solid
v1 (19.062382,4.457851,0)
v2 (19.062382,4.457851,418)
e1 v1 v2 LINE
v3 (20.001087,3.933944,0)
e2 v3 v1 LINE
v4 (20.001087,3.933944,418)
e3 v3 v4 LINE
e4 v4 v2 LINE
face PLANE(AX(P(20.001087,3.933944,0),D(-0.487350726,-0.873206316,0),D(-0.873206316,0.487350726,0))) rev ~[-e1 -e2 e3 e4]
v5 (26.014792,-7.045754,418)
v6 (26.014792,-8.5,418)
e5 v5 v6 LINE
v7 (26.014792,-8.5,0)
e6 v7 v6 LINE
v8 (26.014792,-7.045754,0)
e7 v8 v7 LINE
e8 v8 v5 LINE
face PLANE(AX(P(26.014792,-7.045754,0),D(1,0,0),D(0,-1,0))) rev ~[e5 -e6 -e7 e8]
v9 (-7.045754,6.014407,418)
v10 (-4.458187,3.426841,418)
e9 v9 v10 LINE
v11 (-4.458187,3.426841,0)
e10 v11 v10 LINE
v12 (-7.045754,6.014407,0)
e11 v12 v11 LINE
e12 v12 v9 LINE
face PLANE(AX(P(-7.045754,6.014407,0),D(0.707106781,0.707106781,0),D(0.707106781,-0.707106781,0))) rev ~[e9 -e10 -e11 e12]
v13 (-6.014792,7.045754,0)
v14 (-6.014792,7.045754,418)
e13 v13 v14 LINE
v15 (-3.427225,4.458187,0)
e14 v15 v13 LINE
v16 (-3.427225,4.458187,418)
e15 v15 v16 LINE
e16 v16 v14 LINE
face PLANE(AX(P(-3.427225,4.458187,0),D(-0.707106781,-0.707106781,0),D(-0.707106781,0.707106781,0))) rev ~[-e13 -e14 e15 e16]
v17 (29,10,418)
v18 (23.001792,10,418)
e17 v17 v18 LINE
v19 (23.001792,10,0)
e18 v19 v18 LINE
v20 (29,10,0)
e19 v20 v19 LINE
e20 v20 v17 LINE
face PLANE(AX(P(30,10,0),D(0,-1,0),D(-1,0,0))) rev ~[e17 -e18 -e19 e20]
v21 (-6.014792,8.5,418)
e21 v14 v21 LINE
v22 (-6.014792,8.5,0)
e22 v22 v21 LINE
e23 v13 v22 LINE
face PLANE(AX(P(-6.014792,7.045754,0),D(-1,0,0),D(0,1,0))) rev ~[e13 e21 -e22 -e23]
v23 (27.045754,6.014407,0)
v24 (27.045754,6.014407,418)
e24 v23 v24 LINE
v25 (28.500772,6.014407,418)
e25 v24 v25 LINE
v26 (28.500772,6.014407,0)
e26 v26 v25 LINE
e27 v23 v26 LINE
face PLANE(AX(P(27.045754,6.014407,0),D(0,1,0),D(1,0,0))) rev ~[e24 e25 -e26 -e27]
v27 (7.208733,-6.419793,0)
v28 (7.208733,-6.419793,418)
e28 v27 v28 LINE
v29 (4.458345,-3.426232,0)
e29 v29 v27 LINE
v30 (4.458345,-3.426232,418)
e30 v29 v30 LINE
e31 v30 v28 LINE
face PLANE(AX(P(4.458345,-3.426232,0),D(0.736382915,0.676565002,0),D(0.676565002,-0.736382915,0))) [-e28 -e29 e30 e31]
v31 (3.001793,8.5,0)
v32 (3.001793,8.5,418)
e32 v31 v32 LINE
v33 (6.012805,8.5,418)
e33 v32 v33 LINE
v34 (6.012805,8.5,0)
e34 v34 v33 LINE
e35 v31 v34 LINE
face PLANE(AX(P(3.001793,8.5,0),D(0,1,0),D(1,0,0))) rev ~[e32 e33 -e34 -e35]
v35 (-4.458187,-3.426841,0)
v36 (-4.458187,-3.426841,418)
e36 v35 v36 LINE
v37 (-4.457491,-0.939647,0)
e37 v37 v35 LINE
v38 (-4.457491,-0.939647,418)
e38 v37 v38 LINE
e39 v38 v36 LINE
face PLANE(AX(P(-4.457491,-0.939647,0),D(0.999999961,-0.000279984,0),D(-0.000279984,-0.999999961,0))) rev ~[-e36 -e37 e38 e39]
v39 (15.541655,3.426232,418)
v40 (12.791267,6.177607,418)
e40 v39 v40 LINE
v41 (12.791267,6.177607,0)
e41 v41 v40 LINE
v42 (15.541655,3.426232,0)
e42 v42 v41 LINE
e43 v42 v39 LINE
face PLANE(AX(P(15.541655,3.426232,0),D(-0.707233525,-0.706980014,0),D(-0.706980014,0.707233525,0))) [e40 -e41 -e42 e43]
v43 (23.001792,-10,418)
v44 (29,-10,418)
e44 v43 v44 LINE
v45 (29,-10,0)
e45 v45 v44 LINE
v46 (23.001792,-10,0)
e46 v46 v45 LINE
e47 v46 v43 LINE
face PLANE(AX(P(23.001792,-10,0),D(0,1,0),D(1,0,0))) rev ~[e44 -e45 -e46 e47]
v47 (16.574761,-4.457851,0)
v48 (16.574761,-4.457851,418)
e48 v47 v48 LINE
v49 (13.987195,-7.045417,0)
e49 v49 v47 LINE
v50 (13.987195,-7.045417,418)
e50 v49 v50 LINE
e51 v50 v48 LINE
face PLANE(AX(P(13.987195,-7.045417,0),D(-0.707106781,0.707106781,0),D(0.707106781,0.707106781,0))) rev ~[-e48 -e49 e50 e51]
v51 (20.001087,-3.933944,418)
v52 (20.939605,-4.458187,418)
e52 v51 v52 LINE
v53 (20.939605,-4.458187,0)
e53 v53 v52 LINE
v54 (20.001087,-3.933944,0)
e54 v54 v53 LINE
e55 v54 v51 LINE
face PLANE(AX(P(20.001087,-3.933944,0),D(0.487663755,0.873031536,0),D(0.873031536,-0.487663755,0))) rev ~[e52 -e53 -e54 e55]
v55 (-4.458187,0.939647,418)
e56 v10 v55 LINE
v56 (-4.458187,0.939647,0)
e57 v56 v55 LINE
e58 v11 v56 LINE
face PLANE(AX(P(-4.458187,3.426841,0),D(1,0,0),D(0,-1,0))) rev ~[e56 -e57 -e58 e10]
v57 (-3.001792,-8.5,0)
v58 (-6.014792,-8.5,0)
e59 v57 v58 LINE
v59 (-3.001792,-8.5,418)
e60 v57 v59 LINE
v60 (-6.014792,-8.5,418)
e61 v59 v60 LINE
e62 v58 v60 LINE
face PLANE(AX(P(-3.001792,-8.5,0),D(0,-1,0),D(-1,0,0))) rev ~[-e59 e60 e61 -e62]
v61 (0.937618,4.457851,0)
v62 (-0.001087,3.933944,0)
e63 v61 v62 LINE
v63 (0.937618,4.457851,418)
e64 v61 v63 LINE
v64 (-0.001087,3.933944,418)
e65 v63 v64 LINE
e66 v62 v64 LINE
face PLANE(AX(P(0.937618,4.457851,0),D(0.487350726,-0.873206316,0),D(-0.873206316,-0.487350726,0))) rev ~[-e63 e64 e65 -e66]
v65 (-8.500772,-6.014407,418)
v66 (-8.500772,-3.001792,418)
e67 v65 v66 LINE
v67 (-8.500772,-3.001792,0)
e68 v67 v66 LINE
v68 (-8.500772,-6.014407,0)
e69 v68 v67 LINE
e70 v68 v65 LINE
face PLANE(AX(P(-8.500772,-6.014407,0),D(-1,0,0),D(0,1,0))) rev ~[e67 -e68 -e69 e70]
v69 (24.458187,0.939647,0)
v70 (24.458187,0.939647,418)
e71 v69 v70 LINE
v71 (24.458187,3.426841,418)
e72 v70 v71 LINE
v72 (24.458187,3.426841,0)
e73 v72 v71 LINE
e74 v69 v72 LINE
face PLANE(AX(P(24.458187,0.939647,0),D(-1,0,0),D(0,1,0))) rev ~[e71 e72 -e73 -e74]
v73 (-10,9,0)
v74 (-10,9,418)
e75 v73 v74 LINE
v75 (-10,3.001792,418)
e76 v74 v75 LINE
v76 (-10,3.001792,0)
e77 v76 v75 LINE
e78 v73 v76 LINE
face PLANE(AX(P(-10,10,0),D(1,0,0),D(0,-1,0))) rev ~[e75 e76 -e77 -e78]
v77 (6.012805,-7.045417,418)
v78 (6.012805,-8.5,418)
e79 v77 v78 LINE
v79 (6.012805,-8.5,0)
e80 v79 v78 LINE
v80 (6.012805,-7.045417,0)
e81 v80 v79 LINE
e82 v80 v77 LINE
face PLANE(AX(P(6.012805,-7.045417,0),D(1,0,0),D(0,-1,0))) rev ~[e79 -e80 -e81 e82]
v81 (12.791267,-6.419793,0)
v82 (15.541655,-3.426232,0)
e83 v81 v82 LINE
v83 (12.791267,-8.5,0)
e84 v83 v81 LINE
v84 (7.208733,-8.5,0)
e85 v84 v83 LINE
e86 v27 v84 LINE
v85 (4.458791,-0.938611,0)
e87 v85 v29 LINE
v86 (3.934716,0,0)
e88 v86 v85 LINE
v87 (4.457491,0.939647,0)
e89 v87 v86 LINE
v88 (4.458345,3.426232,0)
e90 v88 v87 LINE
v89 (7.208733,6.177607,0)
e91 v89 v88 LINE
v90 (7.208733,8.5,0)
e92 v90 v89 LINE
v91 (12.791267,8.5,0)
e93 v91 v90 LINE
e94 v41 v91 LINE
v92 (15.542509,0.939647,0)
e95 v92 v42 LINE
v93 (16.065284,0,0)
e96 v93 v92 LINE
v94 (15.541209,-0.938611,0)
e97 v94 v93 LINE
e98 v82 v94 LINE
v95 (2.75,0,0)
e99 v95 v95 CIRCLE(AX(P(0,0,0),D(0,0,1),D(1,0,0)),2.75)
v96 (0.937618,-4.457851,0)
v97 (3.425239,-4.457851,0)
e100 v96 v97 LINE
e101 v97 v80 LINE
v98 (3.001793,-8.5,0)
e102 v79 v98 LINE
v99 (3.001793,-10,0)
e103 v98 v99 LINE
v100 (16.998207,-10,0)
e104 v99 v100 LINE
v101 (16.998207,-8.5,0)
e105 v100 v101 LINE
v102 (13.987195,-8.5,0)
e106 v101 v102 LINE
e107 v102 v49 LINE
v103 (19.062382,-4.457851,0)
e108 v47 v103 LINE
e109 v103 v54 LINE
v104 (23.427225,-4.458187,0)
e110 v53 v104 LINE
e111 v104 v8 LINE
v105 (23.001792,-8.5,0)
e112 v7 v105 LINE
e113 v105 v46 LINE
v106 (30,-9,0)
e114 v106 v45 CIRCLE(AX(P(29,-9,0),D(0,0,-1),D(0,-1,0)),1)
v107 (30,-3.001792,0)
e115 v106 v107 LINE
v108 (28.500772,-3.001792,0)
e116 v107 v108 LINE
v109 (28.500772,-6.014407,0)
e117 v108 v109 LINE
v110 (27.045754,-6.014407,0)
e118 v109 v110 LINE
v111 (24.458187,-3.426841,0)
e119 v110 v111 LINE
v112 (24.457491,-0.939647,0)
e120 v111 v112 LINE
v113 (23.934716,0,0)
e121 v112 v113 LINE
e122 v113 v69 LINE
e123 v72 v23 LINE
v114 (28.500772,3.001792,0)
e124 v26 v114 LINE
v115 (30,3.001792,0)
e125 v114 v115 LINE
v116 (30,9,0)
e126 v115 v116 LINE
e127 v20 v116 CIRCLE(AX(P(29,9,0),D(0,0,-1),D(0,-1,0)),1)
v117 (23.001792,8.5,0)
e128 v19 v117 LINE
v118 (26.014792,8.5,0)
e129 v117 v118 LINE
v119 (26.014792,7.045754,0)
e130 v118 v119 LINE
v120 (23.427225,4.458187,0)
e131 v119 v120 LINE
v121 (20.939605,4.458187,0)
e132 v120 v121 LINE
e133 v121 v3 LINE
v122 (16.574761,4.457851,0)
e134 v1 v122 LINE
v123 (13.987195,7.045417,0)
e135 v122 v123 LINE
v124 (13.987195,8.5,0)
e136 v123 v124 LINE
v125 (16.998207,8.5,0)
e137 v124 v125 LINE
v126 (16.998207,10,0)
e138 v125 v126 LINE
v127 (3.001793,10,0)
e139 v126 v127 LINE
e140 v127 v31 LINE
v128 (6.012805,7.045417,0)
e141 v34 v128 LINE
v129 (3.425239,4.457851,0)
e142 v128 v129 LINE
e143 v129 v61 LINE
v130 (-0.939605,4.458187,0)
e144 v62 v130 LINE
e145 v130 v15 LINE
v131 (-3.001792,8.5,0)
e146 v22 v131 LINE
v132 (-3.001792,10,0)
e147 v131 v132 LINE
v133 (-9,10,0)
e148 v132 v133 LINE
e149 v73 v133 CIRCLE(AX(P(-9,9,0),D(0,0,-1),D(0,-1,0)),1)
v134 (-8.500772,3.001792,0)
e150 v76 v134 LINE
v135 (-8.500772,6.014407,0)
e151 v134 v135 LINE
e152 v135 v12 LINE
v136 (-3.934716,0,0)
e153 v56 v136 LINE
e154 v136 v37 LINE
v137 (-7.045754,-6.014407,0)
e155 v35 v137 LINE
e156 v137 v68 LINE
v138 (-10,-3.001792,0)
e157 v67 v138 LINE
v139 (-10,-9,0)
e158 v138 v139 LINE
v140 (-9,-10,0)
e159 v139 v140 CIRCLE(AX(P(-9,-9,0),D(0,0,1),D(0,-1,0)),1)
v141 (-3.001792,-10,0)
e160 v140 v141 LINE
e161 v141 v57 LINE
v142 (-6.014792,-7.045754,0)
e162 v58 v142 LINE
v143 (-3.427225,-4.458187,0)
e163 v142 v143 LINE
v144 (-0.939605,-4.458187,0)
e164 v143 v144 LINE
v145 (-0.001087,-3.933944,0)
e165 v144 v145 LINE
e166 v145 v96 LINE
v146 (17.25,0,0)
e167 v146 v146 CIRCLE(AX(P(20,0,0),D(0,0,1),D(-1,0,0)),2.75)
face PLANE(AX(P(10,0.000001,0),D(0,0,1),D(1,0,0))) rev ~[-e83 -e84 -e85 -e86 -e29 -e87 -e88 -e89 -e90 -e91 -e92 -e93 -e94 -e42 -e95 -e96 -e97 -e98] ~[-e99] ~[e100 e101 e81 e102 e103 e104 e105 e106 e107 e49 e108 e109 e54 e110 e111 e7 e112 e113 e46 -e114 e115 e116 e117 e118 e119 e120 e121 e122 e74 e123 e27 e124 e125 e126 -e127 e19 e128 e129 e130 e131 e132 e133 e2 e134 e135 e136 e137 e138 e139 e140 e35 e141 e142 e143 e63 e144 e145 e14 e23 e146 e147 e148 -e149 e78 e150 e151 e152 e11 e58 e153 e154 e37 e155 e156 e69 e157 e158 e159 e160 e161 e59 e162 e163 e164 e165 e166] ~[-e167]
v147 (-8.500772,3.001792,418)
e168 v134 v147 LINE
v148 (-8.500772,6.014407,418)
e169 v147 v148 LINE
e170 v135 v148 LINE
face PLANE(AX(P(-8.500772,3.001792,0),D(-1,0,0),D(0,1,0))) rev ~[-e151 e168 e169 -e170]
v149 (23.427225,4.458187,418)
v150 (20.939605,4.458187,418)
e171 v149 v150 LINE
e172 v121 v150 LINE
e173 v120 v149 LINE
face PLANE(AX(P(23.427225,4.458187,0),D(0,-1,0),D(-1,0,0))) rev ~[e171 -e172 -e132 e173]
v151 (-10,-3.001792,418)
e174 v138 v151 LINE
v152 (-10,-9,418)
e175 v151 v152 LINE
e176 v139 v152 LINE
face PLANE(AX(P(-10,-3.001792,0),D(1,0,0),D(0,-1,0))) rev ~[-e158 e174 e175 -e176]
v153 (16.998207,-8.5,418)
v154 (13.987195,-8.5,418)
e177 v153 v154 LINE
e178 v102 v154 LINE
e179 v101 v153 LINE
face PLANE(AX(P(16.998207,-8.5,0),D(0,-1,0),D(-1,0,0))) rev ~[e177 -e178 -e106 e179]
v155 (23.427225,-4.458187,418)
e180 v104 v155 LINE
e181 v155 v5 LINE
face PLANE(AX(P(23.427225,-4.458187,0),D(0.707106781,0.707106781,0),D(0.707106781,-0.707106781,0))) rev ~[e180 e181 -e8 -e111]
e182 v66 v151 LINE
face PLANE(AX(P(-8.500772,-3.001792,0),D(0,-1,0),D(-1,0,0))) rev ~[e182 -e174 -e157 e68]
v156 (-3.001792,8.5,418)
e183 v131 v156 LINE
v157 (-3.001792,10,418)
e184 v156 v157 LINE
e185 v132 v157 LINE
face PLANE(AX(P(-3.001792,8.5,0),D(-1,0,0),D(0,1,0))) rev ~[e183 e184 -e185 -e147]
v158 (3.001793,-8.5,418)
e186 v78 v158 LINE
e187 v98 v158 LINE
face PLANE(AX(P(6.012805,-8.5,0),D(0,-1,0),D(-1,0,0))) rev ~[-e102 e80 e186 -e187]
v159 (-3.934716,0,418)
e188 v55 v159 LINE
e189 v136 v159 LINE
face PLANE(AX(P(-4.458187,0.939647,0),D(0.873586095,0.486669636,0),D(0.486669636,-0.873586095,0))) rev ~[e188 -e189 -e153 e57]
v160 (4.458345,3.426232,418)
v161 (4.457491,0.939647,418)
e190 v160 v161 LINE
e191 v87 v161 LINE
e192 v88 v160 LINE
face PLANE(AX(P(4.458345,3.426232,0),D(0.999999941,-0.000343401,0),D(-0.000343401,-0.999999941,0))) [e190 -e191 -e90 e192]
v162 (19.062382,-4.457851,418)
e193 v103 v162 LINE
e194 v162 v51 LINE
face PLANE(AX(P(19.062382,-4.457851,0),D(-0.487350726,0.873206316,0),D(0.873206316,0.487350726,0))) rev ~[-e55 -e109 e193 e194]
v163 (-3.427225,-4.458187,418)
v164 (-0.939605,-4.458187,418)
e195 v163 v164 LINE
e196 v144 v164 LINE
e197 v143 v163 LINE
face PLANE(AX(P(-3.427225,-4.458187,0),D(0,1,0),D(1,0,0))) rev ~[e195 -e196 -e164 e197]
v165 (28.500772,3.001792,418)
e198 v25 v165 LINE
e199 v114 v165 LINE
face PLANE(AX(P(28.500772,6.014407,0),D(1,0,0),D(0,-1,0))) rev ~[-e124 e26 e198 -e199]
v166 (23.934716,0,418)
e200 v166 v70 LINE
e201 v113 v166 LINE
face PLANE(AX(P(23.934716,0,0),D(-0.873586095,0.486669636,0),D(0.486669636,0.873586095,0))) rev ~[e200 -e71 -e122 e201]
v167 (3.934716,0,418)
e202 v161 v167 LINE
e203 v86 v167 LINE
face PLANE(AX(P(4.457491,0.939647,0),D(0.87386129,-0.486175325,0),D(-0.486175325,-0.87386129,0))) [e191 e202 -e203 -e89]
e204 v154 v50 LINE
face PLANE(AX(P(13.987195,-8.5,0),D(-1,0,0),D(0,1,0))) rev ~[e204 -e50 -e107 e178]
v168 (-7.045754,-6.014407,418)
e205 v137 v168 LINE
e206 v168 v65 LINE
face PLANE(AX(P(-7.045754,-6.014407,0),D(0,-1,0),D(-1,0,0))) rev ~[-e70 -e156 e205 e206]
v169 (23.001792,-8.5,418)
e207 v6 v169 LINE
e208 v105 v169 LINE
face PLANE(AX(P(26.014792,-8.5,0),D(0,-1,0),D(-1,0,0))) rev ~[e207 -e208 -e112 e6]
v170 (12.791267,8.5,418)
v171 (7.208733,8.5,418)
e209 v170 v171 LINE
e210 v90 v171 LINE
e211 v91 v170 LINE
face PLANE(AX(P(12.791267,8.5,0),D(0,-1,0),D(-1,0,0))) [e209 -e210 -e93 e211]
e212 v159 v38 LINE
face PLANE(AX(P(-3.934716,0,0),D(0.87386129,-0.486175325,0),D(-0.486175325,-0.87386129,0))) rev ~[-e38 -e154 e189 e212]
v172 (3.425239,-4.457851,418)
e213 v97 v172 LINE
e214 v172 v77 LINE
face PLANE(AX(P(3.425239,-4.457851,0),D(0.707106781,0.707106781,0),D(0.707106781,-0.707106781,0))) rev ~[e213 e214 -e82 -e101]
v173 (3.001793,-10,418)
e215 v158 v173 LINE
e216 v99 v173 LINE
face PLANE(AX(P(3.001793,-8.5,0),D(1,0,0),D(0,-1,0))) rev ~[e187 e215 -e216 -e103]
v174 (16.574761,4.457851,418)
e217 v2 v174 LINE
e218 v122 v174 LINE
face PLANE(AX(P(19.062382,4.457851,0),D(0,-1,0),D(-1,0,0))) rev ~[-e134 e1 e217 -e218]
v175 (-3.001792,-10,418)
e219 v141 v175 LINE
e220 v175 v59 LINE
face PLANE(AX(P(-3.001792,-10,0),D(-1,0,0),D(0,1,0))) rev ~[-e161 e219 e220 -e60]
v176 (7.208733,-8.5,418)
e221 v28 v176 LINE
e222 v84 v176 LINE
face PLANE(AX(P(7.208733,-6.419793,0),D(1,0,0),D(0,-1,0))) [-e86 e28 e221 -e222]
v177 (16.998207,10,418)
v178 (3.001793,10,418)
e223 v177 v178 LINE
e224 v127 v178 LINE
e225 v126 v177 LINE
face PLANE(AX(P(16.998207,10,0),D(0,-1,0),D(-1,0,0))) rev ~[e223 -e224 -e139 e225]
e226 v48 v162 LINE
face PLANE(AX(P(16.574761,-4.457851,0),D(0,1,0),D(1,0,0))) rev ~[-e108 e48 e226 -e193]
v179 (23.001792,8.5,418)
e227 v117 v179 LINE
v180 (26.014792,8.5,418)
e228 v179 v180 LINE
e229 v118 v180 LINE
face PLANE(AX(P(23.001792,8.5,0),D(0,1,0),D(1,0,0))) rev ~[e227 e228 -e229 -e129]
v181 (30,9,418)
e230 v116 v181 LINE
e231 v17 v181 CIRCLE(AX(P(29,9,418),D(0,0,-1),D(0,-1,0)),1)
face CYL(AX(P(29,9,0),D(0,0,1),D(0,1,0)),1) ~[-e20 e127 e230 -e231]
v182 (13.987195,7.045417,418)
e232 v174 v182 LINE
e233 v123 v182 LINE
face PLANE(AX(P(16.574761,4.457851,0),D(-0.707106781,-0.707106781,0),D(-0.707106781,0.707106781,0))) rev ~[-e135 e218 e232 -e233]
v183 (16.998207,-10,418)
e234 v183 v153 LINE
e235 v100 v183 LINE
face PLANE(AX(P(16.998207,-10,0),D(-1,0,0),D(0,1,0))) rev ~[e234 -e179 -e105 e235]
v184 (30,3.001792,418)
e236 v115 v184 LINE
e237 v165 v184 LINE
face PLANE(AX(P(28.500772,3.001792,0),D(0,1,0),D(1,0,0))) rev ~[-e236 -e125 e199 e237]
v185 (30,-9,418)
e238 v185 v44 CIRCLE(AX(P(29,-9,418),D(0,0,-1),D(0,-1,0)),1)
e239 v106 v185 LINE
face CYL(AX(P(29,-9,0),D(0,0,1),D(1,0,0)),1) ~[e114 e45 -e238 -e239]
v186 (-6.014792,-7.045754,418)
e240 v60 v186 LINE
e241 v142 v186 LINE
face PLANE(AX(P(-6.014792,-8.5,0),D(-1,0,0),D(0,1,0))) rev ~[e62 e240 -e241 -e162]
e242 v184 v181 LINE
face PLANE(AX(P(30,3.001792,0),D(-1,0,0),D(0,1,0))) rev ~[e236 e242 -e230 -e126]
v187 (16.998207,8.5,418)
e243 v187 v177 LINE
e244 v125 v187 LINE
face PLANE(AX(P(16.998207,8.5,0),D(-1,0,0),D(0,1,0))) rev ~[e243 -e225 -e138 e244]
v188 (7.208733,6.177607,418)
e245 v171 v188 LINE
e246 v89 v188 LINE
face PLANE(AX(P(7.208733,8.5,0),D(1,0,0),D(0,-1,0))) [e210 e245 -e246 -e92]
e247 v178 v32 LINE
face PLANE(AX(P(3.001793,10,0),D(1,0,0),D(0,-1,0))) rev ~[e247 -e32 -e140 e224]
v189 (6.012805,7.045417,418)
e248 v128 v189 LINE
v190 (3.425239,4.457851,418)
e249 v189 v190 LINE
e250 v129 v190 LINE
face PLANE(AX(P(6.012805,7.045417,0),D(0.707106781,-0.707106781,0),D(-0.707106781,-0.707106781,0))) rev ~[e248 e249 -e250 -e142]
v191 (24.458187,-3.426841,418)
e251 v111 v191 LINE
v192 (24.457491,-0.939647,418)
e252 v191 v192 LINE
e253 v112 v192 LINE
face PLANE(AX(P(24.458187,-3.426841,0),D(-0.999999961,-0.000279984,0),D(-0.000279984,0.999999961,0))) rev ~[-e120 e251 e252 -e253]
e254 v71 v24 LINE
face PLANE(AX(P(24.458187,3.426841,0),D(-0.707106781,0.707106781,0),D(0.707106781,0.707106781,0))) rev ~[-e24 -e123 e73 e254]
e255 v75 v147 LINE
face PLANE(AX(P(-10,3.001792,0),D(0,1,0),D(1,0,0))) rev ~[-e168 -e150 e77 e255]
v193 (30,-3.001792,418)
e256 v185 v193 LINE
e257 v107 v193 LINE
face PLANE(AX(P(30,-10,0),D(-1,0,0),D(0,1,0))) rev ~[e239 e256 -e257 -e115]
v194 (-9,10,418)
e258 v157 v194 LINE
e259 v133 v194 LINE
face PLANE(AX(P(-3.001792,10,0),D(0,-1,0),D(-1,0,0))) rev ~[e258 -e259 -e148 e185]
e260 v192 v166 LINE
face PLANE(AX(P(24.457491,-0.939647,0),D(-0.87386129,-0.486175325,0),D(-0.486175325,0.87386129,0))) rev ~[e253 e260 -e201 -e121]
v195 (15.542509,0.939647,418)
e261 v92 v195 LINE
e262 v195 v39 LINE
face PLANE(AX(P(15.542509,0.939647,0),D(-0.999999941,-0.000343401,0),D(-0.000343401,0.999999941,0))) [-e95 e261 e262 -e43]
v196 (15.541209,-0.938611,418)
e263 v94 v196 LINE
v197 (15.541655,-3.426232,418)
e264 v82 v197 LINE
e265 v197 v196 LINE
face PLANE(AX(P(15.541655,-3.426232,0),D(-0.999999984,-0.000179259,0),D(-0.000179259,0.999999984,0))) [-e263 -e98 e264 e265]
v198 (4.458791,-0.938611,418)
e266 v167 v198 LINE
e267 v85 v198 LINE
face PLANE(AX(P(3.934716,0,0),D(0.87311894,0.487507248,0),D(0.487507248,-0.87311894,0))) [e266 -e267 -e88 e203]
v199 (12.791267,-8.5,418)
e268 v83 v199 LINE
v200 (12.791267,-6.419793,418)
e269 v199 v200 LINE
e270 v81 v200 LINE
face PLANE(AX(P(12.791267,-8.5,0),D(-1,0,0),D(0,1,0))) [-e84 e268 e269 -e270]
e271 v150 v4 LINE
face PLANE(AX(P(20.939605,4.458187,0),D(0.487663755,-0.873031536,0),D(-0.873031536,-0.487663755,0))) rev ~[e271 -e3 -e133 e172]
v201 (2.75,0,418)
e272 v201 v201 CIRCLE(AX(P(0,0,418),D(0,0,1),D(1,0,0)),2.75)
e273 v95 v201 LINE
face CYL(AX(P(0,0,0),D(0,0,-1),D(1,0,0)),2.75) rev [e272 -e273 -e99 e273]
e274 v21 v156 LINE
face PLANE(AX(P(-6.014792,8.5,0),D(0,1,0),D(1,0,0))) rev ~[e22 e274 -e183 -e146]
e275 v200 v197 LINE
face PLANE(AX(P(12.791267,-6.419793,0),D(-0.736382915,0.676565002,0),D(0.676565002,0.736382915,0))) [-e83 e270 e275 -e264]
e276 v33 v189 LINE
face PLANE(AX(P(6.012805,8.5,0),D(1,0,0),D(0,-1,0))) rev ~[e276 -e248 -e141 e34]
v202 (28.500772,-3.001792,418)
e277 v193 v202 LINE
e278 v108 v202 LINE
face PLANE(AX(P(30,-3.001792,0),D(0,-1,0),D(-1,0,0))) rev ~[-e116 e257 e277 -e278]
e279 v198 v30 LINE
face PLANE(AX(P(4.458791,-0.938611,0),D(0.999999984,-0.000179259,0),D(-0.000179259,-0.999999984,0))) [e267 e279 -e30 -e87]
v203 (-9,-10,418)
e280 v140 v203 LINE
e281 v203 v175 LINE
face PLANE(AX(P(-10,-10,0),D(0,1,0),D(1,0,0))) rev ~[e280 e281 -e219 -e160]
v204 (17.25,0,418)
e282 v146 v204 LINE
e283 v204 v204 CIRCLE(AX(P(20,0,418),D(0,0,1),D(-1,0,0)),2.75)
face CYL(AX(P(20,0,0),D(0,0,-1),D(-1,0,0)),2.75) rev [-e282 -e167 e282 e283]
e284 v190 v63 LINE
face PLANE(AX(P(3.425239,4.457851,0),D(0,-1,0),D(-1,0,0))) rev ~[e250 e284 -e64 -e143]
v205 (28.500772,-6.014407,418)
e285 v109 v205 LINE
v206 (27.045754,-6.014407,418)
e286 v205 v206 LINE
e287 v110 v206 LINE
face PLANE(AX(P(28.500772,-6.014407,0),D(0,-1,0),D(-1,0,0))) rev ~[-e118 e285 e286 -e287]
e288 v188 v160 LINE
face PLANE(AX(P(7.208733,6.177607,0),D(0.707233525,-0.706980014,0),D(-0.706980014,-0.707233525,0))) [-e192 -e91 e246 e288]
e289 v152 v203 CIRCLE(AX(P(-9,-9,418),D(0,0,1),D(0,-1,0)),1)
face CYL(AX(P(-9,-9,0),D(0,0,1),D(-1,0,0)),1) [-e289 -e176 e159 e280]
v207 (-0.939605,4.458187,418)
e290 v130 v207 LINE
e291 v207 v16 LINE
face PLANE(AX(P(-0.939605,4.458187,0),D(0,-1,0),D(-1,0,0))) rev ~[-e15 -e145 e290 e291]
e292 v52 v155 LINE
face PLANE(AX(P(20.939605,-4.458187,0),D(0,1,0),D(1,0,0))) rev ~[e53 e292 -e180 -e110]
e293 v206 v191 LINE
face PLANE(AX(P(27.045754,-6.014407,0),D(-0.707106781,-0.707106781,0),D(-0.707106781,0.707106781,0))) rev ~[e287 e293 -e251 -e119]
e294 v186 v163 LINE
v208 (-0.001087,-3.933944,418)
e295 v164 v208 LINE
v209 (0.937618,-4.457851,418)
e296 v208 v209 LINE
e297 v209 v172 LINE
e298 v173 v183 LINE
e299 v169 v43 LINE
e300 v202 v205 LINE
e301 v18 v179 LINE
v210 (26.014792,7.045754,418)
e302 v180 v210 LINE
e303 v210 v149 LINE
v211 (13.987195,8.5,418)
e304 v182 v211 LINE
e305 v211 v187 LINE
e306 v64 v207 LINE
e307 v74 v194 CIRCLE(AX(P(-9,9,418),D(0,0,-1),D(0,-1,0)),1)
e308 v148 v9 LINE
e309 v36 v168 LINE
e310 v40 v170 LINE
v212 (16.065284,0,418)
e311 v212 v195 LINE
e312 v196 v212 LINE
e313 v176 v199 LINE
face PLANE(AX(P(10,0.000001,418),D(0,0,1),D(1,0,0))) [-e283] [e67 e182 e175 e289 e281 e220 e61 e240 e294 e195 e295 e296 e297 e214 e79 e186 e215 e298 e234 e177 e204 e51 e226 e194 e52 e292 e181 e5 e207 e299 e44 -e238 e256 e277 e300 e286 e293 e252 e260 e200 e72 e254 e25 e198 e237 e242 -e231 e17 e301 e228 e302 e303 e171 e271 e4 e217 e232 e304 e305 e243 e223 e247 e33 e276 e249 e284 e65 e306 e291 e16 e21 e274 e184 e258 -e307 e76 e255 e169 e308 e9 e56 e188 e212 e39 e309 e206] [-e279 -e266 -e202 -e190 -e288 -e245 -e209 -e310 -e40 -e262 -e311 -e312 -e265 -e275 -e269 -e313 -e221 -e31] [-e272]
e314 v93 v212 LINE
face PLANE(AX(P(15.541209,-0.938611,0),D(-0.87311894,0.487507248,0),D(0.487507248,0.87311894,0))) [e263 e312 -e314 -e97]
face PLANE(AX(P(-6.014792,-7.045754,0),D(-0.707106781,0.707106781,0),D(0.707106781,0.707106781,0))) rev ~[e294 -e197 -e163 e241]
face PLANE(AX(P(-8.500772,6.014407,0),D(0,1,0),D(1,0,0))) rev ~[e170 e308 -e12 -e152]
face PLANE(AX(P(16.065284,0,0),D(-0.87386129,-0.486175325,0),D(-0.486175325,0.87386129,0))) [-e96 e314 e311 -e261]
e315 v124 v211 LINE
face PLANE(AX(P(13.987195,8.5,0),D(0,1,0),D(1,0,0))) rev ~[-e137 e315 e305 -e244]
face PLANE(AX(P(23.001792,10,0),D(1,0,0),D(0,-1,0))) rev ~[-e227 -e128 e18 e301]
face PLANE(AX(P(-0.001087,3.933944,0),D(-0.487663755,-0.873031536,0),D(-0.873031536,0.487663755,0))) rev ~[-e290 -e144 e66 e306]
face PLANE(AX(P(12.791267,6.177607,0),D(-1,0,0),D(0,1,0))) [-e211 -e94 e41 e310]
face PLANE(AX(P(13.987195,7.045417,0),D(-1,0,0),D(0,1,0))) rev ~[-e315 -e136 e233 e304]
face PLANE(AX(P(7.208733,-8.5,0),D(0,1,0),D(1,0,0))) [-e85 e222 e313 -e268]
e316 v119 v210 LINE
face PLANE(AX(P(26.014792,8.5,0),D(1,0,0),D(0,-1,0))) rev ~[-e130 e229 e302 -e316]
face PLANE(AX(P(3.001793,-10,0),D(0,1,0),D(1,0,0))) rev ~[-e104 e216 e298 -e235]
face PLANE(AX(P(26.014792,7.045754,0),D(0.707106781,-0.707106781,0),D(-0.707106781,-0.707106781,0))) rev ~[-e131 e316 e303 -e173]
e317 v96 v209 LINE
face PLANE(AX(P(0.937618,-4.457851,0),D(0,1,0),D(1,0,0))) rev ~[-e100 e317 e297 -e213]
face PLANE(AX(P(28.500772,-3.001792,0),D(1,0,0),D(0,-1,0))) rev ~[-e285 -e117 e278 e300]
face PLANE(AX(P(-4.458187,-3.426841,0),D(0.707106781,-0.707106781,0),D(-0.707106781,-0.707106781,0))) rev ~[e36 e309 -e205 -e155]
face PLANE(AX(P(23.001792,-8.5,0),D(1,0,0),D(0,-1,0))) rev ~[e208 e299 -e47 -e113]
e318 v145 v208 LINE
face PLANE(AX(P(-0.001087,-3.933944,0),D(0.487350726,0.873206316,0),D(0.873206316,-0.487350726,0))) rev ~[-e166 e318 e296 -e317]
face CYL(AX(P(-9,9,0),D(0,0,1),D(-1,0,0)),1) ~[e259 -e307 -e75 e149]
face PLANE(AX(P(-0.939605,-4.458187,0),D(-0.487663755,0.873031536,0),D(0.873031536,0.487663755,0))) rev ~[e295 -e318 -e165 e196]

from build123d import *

# Parameters (mm, degrees)
SKETCH1_R           = 2.75
BOSS_EXTRUDE1_DEPTH = 418
FILLET2_R           = 1
FILLET4_R           = 1
FILLET5_R           = 1
FILLET6_R           = 1


with BuildPart() as part:
    # Sketch1 → Boss-Extrude1 (new body)
    with BuildSketch(Plane.XY):
        Polygon((-3.001792446, 10), (-10, 10), (-10, 3.001792446), (-8.500771543, 3.001792446), (-8.500771543, 6.014407427), (-7.045753692, 6.014407427), (-4.458187435, 3.426841169), (-4.458187435, 0.939646666), (-3.934715846, 0), (-4.45749106, -0.939646666), (-4.458187435, -3.426841169), (-7.045753692, -6.014407427), (-8.500771543, -6.014407427), (-8.500771543, -3.001792446), (-10, -3.001792446), (-10, -10), (-3.001792446, -10), (-3.001792446, -8.499999951), (-6.014791508, -8.499999951), (-6.014791508, -7.045753643), (-3.427225251, -4.458187385), (-0.939604714, -4.458187385), (-0.00108721, -3.933944043), (0.937618184, -4.457850876), (3.425238721, -4.457850876), (6.012804978, -7.045417133), (6.012804978, -8.500000007), (3.001792545, -8.500000007), (3.001792545, -10), (16.998207455, -10), (16.998207455, -8.500000007), (13.987195022, -8.500000007), (13.987195022, -7.045417133), (16.574761279, -4.457850876), (19.062381816, -4.457850876), (20.00108721, -3.933944043), (20.939604714, -4.458187385), (23.427225251, -4.458187385), (26.014791508, -7.045753643), (26.014791508, -8.499999951), (23.001792446, -8.499999951), (23.001792446, -10), (30, -10), (30, -3.001792446), (28.500771543, -3.001792446), (28.500771543, -6.014407427), (27.045753692, -6.014407427), (24.458187435, -3.426841169), (24.45749106, -0.939646666), (23.934715846, 0), (24.458187435, 0.939646666), (24.458187435, 3.426841169), (27.045753692, 6.014407427), (28.500771543, 6.014407427), (28.500771543, 3.001792446), (30, 3.001792446), (30, 10), (23.001792446, 10), (23.001792446, 8.499999951), (26.014791508, 8.499999951), (26.014791508, 7.045753643), (23.427225251, 4.458187385), (20.939604714, 4.458187385), (20.00108721, 3.933944043), (19.062381816, 4.457850876), (16.574761279, 4.457850876), (13.987195022, 7.045417133), (13.987195022, 8.499999951), (16.998207356, 8.499999951), (16.998207356, 10), (3.001792643, 10), (3.001792643, 8.499999951), (6.012804978, 8.499999951), (6.012804978, 7.045417133), (3.425238721, 4.457850876), (0.937618184, 4.457850876), (-0.00108721, 3.933944043), (-0.939604714, 4.458187385), (-3.427225251, 4.458187385), (-6.014791508, 7.045753643), (-6.014791508, 8.499999951), (-3.001792446, 8.499999951), align=None)
        Circle(SKETCH1_R, mode=Mode.SUBTRACT)
        with Locations(Location((20, 0, 0), (0, 0, 180))):
            Circle(SKETCH1_R, mode=Mode.SUBTRACT)
        Polygon((7.208733292, -6.419793455), (7.208733292, -8.500000007), (12.791266708, -8.500000007), (12.791266708, -6.419793455), (15.541654987, -3.426231961), (15.541209058, -0.938611464), (16.065284154, 0), (15.54250894, 0.939646666), (15.541655044, 3.426231961), (12.791266708, 6.17760654), (12.791266708, 8.499999951), (7.208733292, 8.499999951), (7.208733292, 6.17760654), (4.458344956, 3.426231961), (4.45749106, 0.939646666), (3.934715846, 0), (4.458790942, -0.938611464), (4.458345013, -3.426231961), align=None, mode=Mode.SUBTRACT)
    extrude(amount=BOSS_EXTRUDE1_DEPTH)

    # Fillet2
    fillet2_edges = [part.edges().sort_by_distance(p)[0] for p in [
        (-10, -10, 209),
    ]]
    fillet(fillet2_edges, radius=FILLET2_R)

    # Fillet4
    fillet4_edges = [part.edges().sort_by_distance(p)[0] for p in [
        (-10, 10, 209),
    ]]
    fillet(fillet4_edges, radius=FILLET4_R)

    # Fillet5
    fillet5_edges = [part.edges().sort_by_distance(p)[0] for p in [
        (30, 10, 209),
    ]]
    fillet(fillet5_edges, radius=FILLET5_R)

    # Fillet6
    fillet6_edges = [part.edges().sort_by_distance(p)[0] for p in [
        (30, -10, 209),
    ]]
    fillet(fillet6_edges, radius=FILLET6_R)


solid = part.part
